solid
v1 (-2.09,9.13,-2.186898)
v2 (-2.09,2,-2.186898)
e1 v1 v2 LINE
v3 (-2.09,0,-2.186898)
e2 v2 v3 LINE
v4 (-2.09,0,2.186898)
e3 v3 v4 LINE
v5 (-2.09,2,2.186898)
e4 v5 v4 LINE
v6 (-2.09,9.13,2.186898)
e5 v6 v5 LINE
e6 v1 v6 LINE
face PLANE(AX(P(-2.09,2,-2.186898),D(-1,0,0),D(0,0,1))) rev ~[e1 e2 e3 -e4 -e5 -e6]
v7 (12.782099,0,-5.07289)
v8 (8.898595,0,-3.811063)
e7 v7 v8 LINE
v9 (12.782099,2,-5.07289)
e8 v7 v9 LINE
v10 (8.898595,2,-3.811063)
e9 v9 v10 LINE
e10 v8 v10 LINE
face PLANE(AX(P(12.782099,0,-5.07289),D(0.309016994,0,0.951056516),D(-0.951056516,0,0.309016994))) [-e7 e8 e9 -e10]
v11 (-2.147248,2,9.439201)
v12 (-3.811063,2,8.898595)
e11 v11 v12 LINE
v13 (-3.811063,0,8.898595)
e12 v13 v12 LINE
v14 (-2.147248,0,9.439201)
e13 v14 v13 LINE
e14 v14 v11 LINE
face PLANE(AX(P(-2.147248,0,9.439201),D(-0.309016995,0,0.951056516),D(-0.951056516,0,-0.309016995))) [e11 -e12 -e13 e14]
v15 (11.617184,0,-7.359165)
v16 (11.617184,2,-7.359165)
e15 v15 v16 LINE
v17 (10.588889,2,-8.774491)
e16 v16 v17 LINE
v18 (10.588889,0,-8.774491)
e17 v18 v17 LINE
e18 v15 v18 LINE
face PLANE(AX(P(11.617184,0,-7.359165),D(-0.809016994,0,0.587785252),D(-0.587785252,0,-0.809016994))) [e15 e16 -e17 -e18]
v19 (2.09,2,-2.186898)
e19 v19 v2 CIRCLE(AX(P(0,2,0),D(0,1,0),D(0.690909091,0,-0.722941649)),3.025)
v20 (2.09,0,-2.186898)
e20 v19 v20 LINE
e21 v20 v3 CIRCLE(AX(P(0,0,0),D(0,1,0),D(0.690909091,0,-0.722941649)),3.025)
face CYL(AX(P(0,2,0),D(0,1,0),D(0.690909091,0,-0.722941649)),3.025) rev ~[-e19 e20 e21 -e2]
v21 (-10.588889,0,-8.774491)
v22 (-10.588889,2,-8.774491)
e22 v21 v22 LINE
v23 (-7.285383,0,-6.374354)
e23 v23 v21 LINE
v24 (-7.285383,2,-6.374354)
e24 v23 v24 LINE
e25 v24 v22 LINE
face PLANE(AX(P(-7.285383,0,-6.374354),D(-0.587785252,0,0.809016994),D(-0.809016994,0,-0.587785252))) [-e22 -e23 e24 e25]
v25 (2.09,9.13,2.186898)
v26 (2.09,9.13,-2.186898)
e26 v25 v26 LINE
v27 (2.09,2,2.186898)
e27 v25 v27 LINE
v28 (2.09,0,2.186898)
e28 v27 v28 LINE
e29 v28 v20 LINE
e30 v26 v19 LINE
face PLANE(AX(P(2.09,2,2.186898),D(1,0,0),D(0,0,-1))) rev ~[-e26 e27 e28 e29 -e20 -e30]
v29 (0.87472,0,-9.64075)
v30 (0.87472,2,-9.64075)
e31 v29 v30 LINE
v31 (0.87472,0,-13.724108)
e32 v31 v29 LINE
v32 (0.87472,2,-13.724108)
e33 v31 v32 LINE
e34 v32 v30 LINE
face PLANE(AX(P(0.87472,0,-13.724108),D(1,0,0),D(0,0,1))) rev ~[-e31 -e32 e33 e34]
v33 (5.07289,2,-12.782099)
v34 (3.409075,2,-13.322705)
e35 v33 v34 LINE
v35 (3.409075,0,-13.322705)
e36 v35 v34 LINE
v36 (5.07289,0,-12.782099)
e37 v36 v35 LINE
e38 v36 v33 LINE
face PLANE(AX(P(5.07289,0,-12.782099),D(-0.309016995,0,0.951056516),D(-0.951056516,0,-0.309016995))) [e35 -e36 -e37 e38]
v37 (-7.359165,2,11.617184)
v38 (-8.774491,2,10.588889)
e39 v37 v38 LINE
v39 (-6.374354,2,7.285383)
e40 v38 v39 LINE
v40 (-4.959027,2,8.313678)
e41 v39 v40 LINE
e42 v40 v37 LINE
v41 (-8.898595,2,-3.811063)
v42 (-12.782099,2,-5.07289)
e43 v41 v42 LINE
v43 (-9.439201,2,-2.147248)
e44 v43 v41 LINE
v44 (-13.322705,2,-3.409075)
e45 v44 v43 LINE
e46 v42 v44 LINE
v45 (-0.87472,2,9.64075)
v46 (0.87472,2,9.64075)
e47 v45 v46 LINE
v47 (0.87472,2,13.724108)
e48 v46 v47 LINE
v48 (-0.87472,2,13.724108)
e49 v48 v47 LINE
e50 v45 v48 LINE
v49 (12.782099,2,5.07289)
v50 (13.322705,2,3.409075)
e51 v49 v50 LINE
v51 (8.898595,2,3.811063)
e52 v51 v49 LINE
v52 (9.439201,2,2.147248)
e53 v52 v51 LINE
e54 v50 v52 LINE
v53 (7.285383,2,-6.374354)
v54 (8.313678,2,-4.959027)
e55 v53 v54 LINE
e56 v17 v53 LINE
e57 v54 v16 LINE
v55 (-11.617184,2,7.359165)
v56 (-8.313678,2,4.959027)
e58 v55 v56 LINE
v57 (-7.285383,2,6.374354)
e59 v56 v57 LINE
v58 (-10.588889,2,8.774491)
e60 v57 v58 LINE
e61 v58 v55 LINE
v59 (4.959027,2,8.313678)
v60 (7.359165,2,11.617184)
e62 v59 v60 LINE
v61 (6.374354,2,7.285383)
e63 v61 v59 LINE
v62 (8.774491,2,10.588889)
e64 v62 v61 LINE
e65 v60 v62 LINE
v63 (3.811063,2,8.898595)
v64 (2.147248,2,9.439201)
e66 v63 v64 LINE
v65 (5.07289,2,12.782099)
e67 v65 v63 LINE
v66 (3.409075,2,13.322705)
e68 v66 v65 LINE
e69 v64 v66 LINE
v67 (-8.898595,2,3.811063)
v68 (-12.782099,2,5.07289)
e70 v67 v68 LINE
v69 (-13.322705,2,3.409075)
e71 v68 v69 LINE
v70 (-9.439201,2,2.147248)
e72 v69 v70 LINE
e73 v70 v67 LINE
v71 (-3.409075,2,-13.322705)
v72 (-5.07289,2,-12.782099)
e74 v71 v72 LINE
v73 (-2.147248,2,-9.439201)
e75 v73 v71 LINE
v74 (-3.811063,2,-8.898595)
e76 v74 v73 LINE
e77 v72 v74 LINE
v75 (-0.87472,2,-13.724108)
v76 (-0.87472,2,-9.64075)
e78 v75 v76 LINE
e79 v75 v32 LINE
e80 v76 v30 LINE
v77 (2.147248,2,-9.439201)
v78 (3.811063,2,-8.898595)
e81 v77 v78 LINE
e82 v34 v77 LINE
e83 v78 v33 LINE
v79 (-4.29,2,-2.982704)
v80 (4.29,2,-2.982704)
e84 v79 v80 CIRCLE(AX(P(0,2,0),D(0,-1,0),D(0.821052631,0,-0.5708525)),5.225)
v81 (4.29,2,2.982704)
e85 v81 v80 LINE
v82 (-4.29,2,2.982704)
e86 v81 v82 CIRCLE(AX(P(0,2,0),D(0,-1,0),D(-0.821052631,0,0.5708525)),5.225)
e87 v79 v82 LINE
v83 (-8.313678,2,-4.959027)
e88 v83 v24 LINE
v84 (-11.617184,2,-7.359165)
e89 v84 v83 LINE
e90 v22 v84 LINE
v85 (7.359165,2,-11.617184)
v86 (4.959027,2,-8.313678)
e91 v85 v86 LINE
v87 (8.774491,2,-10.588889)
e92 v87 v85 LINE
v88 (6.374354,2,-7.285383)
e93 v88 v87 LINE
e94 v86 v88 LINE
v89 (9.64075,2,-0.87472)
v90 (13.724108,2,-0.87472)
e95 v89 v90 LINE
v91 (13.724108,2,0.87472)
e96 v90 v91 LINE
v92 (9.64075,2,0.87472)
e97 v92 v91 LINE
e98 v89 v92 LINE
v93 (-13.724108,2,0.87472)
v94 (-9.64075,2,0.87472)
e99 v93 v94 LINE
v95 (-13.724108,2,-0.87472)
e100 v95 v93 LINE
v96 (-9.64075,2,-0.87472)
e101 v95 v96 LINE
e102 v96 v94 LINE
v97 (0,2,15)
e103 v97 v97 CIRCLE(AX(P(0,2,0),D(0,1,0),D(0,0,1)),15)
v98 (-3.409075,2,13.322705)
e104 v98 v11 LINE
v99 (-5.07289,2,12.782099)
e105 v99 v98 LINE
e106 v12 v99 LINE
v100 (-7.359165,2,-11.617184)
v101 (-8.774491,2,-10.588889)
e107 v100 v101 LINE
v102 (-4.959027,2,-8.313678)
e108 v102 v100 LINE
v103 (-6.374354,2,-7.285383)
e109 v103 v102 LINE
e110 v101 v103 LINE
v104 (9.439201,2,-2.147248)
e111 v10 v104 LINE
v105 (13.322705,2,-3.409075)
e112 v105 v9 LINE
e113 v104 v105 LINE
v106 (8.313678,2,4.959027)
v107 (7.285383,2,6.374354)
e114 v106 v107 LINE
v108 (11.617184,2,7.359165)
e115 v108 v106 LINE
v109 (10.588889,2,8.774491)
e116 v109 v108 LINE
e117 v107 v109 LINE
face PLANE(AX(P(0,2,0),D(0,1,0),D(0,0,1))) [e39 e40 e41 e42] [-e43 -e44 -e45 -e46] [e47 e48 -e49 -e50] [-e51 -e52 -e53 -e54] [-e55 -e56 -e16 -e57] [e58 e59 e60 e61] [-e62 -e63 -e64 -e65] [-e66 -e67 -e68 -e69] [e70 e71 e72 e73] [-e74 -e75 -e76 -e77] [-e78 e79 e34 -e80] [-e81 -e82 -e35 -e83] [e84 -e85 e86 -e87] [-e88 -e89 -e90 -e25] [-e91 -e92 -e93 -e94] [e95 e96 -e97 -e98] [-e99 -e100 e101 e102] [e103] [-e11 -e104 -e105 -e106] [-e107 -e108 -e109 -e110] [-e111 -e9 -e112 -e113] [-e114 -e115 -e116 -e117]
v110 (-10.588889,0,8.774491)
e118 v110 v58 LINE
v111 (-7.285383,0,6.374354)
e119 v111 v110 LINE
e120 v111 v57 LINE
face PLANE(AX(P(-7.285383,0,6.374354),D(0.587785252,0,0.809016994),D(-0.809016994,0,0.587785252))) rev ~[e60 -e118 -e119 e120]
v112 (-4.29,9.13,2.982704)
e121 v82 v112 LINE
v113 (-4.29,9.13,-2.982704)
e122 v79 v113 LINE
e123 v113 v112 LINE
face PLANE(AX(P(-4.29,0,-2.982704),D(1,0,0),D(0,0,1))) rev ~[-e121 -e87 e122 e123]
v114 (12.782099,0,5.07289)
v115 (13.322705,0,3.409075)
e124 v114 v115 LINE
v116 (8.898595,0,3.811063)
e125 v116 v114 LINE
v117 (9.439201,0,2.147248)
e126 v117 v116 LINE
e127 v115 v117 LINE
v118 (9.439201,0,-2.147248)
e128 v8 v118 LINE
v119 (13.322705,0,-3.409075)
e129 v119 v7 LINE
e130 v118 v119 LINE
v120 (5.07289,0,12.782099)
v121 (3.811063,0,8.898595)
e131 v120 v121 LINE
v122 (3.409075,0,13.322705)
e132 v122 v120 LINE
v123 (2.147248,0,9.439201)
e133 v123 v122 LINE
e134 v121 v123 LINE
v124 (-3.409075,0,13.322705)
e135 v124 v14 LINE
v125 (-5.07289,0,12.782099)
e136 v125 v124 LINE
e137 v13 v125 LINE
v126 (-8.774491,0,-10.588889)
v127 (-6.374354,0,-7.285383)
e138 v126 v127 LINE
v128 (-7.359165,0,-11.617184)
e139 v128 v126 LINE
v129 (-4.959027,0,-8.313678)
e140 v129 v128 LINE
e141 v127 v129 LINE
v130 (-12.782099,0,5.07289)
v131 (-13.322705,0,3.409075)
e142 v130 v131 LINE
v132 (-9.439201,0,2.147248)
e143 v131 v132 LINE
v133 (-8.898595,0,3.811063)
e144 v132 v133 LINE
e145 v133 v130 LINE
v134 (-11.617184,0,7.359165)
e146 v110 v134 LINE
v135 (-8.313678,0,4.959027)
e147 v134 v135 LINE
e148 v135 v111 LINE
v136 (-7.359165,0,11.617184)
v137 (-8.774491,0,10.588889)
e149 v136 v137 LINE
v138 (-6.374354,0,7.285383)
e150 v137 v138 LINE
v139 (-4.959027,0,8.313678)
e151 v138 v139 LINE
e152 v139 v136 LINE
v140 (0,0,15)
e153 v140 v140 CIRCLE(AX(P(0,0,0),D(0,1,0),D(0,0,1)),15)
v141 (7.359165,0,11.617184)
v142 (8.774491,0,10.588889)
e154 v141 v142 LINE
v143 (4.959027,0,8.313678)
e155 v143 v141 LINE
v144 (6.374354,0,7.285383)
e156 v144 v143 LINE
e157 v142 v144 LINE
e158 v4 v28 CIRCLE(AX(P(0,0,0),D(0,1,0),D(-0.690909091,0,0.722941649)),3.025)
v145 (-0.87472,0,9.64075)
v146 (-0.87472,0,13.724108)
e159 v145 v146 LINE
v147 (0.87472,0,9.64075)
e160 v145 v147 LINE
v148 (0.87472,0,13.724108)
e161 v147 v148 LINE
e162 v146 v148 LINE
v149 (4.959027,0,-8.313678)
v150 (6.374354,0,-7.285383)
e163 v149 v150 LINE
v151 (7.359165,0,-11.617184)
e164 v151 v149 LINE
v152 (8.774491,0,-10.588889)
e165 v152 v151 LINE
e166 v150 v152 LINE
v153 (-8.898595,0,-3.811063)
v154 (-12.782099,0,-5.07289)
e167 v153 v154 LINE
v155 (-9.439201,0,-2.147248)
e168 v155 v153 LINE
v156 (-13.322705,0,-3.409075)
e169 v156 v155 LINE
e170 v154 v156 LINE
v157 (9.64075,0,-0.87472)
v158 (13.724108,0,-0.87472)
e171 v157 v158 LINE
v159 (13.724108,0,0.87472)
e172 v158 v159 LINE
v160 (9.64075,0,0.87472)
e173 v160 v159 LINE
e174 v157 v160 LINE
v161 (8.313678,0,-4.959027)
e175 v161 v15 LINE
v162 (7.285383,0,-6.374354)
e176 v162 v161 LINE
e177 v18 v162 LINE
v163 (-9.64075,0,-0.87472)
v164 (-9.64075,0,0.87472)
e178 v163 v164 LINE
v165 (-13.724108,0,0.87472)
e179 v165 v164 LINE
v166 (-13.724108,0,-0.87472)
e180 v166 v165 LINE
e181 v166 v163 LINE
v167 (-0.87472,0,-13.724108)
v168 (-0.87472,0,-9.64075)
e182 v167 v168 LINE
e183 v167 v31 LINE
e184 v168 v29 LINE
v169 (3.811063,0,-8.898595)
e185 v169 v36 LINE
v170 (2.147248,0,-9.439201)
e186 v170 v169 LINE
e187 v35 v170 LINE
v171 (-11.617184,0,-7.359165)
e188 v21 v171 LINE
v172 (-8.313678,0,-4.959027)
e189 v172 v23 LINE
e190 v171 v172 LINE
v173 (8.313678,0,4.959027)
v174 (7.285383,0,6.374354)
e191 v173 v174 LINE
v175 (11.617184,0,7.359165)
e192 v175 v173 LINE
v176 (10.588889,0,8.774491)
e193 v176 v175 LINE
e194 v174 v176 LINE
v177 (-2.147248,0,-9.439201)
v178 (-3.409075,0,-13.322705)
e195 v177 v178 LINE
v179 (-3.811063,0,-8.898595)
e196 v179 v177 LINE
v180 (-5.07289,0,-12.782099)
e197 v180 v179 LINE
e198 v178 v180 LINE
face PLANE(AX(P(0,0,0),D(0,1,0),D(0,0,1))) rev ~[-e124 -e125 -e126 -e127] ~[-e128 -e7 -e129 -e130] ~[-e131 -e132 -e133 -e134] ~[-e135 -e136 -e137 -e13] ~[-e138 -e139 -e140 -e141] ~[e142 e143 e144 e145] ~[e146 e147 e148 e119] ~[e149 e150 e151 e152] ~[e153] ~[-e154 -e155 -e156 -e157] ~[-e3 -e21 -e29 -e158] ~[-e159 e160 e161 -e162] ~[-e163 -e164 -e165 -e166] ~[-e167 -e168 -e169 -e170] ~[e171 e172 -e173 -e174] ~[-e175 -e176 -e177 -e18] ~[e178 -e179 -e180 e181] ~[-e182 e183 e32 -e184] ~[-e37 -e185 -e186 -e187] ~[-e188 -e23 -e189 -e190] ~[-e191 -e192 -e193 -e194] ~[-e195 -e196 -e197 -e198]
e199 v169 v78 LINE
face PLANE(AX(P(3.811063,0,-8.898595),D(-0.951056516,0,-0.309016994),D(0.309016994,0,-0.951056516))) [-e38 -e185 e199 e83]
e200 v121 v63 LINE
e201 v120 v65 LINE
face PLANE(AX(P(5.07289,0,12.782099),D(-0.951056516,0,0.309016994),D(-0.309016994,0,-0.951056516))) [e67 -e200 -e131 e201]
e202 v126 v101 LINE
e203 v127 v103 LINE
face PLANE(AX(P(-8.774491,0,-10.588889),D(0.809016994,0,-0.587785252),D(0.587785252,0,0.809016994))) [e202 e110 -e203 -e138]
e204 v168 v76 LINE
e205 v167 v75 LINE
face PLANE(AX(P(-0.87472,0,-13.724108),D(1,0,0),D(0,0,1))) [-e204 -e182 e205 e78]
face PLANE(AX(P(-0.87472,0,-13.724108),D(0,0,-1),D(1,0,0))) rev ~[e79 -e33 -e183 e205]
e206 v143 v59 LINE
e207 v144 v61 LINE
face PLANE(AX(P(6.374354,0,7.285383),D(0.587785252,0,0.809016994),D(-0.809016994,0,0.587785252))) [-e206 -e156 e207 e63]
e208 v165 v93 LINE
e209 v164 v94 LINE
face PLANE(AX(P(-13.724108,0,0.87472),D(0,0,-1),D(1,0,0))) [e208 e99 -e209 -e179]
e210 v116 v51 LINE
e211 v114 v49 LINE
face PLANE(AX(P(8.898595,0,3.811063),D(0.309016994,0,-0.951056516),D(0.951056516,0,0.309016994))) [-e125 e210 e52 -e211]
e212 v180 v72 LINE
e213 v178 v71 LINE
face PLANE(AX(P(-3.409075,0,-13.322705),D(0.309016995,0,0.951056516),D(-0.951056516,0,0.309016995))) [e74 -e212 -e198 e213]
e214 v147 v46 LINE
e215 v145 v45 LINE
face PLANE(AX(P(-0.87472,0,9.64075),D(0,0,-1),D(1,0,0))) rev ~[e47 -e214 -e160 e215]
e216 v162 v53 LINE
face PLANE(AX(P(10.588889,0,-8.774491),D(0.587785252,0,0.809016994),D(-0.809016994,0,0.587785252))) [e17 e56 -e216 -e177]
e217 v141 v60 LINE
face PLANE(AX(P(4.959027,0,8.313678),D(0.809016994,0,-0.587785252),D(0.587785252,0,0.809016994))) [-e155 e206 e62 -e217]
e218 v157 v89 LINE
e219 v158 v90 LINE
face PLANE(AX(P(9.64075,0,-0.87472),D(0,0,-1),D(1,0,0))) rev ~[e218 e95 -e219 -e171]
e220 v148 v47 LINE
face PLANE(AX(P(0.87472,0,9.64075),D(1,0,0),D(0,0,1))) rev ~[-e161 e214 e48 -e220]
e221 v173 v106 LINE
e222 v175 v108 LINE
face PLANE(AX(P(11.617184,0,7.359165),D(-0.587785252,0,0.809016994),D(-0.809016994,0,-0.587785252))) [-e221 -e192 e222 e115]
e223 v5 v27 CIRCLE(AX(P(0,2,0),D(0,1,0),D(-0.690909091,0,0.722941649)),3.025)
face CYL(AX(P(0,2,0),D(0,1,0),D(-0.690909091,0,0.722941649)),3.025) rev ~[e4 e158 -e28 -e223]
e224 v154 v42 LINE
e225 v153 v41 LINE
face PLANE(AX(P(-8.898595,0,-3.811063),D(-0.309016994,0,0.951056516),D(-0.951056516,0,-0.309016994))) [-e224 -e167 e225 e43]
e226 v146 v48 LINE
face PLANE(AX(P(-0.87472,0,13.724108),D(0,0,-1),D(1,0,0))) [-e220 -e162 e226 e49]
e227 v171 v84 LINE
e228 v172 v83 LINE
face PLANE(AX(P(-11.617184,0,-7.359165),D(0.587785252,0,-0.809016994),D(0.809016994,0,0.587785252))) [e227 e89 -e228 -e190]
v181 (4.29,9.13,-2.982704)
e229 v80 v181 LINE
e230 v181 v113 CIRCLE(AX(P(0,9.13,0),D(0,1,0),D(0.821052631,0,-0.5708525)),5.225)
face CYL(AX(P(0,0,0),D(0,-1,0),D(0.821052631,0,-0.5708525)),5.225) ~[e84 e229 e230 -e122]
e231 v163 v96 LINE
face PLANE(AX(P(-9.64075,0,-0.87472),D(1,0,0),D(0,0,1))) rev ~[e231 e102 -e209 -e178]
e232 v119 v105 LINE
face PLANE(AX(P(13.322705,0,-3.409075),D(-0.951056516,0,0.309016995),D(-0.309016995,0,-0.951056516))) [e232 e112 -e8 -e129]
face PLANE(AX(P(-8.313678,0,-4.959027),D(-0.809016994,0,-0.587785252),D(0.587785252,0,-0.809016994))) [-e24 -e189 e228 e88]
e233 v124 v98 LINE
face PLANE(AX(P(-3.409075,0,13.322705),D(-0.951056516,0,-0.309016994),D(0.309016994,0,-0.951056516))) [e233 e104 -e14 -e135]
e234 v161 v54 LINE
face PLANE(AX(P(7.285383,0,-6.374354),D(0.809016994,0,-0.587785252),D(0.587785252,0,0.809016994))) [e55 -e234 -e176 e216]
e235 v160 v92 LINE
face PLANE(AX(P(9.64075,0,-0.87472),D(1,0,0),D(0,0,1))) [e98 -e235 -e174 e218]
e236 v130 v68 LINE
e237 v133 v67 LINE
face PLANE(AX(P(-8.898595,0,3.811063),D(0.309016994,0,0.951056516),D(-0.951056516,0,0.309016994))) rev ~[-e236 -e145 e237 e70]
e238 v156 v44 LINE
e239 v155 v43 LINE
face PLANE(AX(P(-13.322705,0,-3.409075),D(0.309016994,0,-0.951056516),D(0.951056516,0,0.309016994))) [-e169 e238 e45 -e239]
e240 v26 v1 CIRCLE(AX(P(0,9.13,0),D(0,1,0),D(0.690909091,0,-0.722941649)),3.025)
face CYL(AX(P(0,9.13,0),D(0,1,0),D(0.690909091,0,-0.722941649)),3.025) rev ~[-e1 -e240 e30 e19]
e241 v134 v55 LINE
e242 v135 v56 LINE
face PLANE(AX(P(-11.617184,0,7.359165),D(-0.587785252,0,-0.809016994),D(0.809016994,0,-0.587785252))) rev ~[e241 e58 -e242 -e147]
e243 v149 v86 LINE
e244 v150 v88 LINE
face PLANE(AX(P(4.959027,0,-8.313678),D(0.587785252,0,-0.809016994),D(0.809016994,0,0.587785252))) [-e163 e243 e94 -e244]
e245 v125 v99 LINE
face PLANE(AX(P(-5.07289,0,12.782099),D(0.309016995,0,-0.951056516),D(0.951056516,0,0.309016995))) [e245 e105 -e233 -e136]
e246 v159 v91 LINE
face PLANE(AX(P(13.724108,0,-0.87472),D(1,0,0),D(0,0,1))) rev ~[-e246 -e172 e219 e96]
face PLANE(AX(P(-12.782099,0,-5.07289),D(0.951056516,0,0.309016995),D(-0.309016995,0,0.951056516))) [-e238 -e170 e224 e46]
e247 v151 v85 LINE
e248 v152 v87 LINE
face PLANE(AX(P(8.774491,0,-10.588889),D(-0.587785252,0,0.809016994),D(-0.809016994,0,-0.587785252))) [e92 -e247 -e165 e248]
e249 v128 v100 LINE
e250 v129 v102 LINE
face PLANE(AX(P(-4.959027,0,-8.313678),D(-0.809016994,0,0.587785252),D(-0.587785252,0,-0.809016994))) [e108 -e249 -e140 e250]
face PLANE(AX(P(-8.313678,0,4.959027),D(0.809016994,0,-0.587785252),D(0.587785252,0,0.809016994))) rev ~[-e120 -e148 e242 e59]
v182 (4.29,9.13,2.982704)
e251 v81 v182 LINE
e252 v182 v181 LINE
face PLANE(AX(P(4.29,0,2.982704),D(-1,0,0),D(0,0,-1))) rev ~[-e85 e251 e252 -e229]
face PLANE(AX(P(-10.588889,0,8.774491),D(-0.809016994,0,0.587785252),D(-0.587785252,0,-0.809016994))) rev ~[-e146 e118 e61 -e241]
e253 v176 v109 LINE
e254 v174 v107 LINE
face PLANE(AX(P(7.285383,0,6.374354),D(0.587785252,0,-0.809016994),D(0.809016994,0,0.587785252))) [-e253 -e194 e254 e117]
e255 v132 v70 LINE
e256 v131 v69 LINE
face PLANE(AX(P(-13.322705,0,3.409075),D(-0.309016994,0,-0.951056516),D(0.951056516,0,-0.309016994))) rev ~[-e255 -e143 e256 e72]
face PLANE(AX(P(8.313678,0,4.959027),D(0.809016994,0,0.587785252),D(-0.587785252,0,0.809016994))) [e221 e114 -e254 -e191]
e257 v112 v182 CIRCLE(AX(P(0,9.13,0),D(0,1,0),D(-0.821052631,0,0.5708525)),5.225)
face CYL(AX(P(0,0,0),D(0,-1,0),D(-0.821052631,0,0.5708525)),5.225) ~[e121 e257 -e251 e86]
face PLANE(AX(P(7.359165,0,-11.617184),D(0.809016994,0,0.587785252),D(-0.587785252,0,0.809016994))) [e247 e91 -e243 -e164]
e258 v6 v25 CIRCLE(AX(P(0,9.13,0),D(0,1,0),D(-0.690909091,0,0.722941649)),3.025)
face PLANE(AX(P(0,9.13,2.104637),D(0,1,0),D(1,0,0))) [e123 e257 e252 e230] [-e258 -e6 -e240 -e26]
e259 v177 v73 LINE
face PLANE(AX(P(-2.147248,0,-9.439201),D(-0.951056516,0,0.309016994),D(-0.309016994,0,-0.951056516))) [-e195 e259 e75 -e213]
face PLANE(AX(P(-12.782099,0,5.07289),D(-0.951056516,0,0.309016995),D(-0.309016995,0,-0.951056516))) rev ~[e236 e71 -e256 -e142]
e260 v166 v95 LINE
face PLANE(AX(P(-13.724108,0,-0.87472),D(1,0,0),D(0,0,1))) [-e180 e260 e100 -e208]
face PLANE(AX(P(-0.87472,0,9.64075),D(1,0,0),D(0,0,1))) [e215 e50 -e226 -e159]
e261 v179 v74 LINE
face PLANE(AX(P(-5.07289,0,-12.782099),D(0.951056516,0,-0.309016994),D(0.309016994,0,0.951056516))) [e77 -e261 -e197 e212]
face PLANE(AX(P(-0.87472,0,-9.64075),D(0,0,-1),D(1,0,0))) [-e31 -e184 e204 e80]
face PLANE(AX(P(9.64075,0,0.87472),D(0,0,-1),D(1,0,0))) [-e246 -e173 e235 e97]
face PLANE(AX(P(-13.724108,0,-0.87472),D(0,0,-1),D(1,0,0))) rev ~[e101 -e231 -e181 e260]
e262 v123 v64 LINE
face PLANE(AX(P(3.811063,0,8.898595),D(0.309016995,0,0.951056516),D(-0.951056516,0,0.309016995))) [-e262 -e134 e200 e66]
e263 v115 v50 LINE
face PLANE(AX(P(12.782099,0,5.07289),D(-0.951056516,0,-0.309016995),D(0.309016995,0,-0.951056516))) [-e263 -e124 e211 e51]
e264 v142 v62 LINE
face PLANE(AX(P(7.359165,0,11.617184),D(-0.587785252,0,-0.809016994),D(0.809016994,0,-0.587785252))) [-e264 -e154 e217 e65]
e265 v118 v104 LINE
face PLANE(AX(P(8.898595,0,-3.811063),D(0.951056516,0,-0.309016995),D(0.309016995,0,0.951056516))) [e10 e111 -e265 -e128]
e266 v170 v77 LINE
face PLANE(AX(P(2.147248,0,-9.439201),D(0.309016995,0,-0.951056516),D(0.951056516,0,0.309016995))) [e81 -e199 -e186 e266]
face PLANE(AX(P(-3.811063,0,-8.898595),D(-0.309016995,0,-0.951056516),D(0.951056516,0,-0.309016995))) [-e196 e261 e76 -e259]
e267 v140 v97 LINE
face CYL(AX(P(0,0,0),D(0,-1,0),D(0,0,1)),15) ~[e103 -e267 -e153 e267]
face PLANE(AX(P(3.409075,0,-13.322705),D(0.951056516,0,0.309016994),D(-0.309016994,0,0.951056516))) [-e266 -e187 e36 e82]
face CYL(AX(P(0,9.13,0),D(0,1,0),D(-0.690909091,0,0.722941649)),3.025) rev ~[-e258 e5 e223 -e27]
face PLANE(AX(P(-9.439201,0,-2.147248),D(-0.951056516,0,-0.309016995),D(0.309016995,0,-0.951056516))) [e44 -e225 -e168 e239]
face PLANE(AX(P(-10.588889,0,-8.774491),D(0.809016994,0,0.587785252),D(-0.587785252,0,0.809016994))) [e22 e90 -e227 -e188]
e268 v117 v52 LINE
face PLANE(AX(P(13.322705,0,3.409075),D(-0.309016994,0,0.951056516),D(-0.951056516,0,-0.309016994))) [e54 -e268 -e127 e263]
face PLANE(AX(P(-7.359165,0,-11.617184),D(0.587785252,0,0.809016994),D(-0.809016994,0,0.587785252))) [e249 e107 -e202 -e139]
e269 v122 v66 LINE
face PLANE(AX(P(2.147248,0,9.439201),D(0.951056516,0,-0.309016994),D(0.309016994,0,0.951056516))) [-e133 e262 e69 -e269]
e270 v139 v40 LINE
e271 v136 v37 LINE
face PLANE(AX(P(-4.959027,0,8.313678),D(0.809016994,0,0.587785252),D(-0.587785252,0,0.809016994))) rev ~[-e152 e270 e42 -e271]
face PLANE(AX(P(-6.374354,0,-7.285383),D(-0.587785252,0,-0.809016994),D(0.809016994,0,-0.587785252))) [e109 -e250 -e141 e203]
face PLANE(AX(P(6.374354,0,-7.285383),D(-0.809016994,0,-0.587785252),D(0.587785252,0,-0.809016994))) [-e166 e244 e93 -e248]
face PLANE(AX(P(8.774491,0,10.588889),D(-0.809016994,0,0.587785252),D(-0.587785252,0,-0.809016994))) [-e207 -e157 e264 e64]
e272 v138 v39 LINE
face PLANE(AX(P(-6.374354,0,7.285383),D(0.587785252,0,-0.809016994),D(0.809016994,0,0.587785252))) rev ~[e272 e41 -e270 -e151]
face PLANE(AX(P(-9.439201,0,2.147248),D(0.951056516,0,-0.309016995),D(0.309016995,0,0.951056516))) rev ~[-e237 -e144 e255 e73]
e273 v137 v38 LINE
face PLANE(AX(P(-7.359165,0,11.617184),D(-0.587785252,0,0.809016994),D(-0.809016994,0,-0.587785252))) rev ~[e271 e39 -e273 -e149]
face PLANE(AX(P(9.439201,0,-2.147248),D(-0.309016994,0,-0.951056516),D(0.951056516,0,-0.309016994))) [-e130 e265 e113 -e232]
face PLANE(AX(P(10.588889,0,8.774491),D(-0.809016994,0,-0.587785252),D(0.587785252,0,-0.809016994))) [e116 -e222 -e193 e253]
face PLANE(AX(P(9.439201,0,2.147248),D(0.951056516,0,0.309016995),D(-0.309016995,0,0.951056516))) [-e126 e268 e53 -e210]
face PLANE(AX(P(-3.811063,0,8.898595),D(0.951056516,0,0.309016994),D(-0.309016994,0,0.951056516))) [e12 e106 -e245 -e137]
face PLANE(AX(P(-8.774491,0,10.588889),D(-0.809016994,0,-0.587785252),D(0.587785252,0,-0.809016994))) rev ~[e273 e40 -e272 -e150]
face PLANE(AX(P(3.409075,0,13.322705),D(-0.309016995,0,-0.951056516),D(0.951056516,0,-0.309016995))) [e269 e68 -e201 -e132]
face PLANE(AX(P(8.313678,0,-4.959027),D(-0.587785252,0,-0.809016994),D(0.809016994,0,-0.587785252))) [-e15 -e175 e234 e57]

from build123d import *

# Parameters (mm, degrees)
EXTRUS_O1_DEPTH = 8.3
EXTRUS_O2_DEPTH = 7.3
ESCALA3_SCALE   = 1.1
ESBO_O3_R       = 15
EXTRUS_O3_DEPTH = 2
EXTRUS_O4_DEPTH = 23.379385604
ESBO_O5_W       = 4.083358115
ESBO_O5_H       = 1.749439388
ESBO_O5_W_2     = 1.749439388
ESBO_O5_H_2     = 4.083358115
EXTRUS_O5_DEPTH = 2


with BuildPart() as part:
    # Esboço1 → Extrusão1 (new body)
    with BuildSketch(Plane(origin=(0, 0, 0), x_dir=(1, 0, 0), z_dir=(0, 1, 0))):
        with BuildLine():
            Line((3.9, 0), (0, 0))
            Line((0, 0), (-3.9, 0))
            Line((-3.9, 0), (-3.9, -2.711549373))
            ThreePointArc((-3.9, -2.711549373), (0, -4.75), (3.9, -2.711549373))
            Line((3.9, -2.711549373), (3.9, 0))
        make_face()
        with BuildLine():
            Line((-3.9, 0), (0, 0))
            Line((0, 0), (3.9, 0))
            Line((3.9, 0), (3.9, 2.711549373))
            ThreePointArc((3.9, 2.711549373), (0, 4.75), (-3.9, 2.711549373))
            Line((-3.9, 2.711549373), (-3.9, 0))
        make_face()
        with BuildLine():
            Line((-3.9, 0), (0, 0))
            Line((0, 0), (3.9, 0))
            Line((3.9, 0), (3.9, 2.711549373))
            ThreePointArc((3.9, 2.711549373), (0, 4.75), (-3.9, 2.711549373))
            Line((-3.9, 2.711549373), (-3.9, 0))
        make_face()
    extrude(amount=EXTRUS_O1_DEPTH)

    # Esboço2 → Extrusão2 (cut)
    with BuildSketch(Plane(origin=(0, 8.3, 0), x_dir=(1, 0, 0), z_dir=(0, 1, 0))):
        with BuildLine():
            Line((-1.9, 0), (0, 0))
            Line((0, 0), (1.9, 0))
            Line((1.9, 0), (1.9, 1.988089535))
            ThreePointArc((1.9, 1.988089535), (0, 2.75), (-1.9, 1.988089535))
            Line((-1.9, 1.988089535), (-1.9, 0))
        make_face()
        with BuildLine():
            Line((1.9, 0), (0, 0))
            Line((0, 0), (-1.9, 0))
            Line((-1.9, 0), (-1.9, -1.988089535))
            ThreePointArc((-1.9, -1.988089535), (0, -2.75), (1.9, -1.988089535))
            Line((1.9, -1.988089535), (1.9, 0))
        make_face()
    extrude(amount=-EXTRUS_O2_DEPTH, mode=Mode.SUBTRACT)


with BuildPart() as part_1:
    # Escala3: scaled about (0, 0, 0)
    add(part.part.scale(ESCALA3_SCALE))

    # Esboço3 → Extrusão3 (add)
    with BuildSketch(Plane(origin=(0, 0, 0), x_dir=(1, 0, 0), z_dir=(0, 1, 0))):
        with Locations(Location((0, 0, 0), (0, 0, 270))):
            Circle(ESBO_O3_R)
    extrude(amount=EXTRUS_O3_DEPTH)

    # Esboço4 → Extrusão4 (cut, through all)
    with BuildSketch(Plane(origin=(0, 2, 0), x_dir=(1, 0, 0), z_dir=(0, 1, 0))):
        with BuildLine():
            Line((2.09, -2.186898489), (2.09, 2.186898489))
            ThreePointArc((2.09, 2.186898489), (0, 3.025), (-2.09, 2.186898489))
            Line((-2.09, 2.186898489), (-2.09, -2.186898489))
            ThreePointArc((-2.09, -2.186898489), (0, -3.025), (2.09, -2.186898489))
        make_face()
    extrude(amount=-EXTRUS_O4_DEPTH, mode=Mode.SUBTRACT)

    # Esboço5 → Extrusão5 (cut)
    with BuildSketch(Plane.XZ):
        Polygon((-2.14724761, -9.439201012), (-3.409074662, -13.322705355), (-5.072890392, -12.782098853), (-3.81106334, -8.89859451), align=None)
        Polygon((-4.959027358, -8.313677628), (-7.359165037, -11.617183737), (-8.774491233, -10.588889065), (-6.374353553, -7.285382956), align=None)
        Polygon((-7.285382956, -6.374353553), (-10.588889065, -8.774491233), (-11.617183737, -7.359165037), (-8.313677628, -4.959027358), align=None)
        Polygon((3.81106334, -8.89859451), (5.072890392, -12.782098853), (3.409074662, -13.322705355), (2.14724761, -9.439201012), align=None)
        Polygon((6.374353553, -7.285382956), (8.774491233, -10.588889065), (7.359165037, -11.617183737), (4.959027358, -8.313677628), align=None)
        Polygon((8.313677628, -4.959027358), (11.617183737, -7.359165037), (10.588889065, -8.774491233), (7.285382956, -6.374353553), align=None)
        Polygon((9.439201012, -2.14724761), (13.322705355, -3.409074662), (12.782098853, -5.072890392), (8.89859451, -3.81106334), align=None)
        with Locations((11.682428691, 0)):
            Rectangle(ESBO_O5_W, ESBO_O5_H)
        Polygon((8.89859451, 3.81106334), (12.782098853, 5.072890392), (13.322705355, 3.409074662), (9.439201012, 2.14724761), align=None)
        Polygon((4.959027358, 8.313677628), (7.359165037, 11.617183737), (8.774491233, 10.588889065), (6.374353553, 7.285382956), align=None)
        with Locations((0, 11.682428691)):
            Rectangle(ESBO_O5_W_2, ESBO_O5_H_2)
        Polygon((-3.81106334, 8.89859451), (-5.072890392, 12.782098853), (-3.409074662, 13.322705355), (-2.14724761, 9.439201012), align=None)
        with Locations((-11.682428691, 0)):
            Rectangle(ESBO_O5_W, ESBO_O5_H)
        Polygon((-8.89859451, -3.81106334), (-12.782098853, -5.072890392), (-13.322705355, -3.409074662), (-9.439201012, -2.14724761), align=None)
        with Locations((0, -11.682428691)):
            Rectangle(ESBO_O5_W_2, ESBO_O5_H_2)
        Polygon((8.313677628, 4.959027358), (7.285382956, 6.374353553), (10.588889065, 8.774491233), (11.617183737, 7.359165037), align=None)
        Polygon((2.14724761, 9.439201012), (3.409074662, 13.322705355), (5.072890392, 12.782098853), (3.81106334, 8.89859451), align=None)
        Polygon((-7.359165037, 11.617183737), (-8.774491233, 10.588889065), (-6.374353553, 7.285382956), (-4.959027358, 8.313677628), align=None)
        Polygon((-10.588889065, 8.774491233), (-11.617183737, 7.359165037), (-8.313677628, 4.959027358), (-7.285382956, 6.374353553), align=None)
        Polygon((-12.782098853, 5.072890392), (-13.322705355, 3.409074662), (-9.439201012, 2.14724761), (-8.89859451, 3.81106334), align=None)
    extrude(amount=-EXTRUS_O5_DEPTH, mode=Mode.SUBTRACT)


solid = part_1.part
